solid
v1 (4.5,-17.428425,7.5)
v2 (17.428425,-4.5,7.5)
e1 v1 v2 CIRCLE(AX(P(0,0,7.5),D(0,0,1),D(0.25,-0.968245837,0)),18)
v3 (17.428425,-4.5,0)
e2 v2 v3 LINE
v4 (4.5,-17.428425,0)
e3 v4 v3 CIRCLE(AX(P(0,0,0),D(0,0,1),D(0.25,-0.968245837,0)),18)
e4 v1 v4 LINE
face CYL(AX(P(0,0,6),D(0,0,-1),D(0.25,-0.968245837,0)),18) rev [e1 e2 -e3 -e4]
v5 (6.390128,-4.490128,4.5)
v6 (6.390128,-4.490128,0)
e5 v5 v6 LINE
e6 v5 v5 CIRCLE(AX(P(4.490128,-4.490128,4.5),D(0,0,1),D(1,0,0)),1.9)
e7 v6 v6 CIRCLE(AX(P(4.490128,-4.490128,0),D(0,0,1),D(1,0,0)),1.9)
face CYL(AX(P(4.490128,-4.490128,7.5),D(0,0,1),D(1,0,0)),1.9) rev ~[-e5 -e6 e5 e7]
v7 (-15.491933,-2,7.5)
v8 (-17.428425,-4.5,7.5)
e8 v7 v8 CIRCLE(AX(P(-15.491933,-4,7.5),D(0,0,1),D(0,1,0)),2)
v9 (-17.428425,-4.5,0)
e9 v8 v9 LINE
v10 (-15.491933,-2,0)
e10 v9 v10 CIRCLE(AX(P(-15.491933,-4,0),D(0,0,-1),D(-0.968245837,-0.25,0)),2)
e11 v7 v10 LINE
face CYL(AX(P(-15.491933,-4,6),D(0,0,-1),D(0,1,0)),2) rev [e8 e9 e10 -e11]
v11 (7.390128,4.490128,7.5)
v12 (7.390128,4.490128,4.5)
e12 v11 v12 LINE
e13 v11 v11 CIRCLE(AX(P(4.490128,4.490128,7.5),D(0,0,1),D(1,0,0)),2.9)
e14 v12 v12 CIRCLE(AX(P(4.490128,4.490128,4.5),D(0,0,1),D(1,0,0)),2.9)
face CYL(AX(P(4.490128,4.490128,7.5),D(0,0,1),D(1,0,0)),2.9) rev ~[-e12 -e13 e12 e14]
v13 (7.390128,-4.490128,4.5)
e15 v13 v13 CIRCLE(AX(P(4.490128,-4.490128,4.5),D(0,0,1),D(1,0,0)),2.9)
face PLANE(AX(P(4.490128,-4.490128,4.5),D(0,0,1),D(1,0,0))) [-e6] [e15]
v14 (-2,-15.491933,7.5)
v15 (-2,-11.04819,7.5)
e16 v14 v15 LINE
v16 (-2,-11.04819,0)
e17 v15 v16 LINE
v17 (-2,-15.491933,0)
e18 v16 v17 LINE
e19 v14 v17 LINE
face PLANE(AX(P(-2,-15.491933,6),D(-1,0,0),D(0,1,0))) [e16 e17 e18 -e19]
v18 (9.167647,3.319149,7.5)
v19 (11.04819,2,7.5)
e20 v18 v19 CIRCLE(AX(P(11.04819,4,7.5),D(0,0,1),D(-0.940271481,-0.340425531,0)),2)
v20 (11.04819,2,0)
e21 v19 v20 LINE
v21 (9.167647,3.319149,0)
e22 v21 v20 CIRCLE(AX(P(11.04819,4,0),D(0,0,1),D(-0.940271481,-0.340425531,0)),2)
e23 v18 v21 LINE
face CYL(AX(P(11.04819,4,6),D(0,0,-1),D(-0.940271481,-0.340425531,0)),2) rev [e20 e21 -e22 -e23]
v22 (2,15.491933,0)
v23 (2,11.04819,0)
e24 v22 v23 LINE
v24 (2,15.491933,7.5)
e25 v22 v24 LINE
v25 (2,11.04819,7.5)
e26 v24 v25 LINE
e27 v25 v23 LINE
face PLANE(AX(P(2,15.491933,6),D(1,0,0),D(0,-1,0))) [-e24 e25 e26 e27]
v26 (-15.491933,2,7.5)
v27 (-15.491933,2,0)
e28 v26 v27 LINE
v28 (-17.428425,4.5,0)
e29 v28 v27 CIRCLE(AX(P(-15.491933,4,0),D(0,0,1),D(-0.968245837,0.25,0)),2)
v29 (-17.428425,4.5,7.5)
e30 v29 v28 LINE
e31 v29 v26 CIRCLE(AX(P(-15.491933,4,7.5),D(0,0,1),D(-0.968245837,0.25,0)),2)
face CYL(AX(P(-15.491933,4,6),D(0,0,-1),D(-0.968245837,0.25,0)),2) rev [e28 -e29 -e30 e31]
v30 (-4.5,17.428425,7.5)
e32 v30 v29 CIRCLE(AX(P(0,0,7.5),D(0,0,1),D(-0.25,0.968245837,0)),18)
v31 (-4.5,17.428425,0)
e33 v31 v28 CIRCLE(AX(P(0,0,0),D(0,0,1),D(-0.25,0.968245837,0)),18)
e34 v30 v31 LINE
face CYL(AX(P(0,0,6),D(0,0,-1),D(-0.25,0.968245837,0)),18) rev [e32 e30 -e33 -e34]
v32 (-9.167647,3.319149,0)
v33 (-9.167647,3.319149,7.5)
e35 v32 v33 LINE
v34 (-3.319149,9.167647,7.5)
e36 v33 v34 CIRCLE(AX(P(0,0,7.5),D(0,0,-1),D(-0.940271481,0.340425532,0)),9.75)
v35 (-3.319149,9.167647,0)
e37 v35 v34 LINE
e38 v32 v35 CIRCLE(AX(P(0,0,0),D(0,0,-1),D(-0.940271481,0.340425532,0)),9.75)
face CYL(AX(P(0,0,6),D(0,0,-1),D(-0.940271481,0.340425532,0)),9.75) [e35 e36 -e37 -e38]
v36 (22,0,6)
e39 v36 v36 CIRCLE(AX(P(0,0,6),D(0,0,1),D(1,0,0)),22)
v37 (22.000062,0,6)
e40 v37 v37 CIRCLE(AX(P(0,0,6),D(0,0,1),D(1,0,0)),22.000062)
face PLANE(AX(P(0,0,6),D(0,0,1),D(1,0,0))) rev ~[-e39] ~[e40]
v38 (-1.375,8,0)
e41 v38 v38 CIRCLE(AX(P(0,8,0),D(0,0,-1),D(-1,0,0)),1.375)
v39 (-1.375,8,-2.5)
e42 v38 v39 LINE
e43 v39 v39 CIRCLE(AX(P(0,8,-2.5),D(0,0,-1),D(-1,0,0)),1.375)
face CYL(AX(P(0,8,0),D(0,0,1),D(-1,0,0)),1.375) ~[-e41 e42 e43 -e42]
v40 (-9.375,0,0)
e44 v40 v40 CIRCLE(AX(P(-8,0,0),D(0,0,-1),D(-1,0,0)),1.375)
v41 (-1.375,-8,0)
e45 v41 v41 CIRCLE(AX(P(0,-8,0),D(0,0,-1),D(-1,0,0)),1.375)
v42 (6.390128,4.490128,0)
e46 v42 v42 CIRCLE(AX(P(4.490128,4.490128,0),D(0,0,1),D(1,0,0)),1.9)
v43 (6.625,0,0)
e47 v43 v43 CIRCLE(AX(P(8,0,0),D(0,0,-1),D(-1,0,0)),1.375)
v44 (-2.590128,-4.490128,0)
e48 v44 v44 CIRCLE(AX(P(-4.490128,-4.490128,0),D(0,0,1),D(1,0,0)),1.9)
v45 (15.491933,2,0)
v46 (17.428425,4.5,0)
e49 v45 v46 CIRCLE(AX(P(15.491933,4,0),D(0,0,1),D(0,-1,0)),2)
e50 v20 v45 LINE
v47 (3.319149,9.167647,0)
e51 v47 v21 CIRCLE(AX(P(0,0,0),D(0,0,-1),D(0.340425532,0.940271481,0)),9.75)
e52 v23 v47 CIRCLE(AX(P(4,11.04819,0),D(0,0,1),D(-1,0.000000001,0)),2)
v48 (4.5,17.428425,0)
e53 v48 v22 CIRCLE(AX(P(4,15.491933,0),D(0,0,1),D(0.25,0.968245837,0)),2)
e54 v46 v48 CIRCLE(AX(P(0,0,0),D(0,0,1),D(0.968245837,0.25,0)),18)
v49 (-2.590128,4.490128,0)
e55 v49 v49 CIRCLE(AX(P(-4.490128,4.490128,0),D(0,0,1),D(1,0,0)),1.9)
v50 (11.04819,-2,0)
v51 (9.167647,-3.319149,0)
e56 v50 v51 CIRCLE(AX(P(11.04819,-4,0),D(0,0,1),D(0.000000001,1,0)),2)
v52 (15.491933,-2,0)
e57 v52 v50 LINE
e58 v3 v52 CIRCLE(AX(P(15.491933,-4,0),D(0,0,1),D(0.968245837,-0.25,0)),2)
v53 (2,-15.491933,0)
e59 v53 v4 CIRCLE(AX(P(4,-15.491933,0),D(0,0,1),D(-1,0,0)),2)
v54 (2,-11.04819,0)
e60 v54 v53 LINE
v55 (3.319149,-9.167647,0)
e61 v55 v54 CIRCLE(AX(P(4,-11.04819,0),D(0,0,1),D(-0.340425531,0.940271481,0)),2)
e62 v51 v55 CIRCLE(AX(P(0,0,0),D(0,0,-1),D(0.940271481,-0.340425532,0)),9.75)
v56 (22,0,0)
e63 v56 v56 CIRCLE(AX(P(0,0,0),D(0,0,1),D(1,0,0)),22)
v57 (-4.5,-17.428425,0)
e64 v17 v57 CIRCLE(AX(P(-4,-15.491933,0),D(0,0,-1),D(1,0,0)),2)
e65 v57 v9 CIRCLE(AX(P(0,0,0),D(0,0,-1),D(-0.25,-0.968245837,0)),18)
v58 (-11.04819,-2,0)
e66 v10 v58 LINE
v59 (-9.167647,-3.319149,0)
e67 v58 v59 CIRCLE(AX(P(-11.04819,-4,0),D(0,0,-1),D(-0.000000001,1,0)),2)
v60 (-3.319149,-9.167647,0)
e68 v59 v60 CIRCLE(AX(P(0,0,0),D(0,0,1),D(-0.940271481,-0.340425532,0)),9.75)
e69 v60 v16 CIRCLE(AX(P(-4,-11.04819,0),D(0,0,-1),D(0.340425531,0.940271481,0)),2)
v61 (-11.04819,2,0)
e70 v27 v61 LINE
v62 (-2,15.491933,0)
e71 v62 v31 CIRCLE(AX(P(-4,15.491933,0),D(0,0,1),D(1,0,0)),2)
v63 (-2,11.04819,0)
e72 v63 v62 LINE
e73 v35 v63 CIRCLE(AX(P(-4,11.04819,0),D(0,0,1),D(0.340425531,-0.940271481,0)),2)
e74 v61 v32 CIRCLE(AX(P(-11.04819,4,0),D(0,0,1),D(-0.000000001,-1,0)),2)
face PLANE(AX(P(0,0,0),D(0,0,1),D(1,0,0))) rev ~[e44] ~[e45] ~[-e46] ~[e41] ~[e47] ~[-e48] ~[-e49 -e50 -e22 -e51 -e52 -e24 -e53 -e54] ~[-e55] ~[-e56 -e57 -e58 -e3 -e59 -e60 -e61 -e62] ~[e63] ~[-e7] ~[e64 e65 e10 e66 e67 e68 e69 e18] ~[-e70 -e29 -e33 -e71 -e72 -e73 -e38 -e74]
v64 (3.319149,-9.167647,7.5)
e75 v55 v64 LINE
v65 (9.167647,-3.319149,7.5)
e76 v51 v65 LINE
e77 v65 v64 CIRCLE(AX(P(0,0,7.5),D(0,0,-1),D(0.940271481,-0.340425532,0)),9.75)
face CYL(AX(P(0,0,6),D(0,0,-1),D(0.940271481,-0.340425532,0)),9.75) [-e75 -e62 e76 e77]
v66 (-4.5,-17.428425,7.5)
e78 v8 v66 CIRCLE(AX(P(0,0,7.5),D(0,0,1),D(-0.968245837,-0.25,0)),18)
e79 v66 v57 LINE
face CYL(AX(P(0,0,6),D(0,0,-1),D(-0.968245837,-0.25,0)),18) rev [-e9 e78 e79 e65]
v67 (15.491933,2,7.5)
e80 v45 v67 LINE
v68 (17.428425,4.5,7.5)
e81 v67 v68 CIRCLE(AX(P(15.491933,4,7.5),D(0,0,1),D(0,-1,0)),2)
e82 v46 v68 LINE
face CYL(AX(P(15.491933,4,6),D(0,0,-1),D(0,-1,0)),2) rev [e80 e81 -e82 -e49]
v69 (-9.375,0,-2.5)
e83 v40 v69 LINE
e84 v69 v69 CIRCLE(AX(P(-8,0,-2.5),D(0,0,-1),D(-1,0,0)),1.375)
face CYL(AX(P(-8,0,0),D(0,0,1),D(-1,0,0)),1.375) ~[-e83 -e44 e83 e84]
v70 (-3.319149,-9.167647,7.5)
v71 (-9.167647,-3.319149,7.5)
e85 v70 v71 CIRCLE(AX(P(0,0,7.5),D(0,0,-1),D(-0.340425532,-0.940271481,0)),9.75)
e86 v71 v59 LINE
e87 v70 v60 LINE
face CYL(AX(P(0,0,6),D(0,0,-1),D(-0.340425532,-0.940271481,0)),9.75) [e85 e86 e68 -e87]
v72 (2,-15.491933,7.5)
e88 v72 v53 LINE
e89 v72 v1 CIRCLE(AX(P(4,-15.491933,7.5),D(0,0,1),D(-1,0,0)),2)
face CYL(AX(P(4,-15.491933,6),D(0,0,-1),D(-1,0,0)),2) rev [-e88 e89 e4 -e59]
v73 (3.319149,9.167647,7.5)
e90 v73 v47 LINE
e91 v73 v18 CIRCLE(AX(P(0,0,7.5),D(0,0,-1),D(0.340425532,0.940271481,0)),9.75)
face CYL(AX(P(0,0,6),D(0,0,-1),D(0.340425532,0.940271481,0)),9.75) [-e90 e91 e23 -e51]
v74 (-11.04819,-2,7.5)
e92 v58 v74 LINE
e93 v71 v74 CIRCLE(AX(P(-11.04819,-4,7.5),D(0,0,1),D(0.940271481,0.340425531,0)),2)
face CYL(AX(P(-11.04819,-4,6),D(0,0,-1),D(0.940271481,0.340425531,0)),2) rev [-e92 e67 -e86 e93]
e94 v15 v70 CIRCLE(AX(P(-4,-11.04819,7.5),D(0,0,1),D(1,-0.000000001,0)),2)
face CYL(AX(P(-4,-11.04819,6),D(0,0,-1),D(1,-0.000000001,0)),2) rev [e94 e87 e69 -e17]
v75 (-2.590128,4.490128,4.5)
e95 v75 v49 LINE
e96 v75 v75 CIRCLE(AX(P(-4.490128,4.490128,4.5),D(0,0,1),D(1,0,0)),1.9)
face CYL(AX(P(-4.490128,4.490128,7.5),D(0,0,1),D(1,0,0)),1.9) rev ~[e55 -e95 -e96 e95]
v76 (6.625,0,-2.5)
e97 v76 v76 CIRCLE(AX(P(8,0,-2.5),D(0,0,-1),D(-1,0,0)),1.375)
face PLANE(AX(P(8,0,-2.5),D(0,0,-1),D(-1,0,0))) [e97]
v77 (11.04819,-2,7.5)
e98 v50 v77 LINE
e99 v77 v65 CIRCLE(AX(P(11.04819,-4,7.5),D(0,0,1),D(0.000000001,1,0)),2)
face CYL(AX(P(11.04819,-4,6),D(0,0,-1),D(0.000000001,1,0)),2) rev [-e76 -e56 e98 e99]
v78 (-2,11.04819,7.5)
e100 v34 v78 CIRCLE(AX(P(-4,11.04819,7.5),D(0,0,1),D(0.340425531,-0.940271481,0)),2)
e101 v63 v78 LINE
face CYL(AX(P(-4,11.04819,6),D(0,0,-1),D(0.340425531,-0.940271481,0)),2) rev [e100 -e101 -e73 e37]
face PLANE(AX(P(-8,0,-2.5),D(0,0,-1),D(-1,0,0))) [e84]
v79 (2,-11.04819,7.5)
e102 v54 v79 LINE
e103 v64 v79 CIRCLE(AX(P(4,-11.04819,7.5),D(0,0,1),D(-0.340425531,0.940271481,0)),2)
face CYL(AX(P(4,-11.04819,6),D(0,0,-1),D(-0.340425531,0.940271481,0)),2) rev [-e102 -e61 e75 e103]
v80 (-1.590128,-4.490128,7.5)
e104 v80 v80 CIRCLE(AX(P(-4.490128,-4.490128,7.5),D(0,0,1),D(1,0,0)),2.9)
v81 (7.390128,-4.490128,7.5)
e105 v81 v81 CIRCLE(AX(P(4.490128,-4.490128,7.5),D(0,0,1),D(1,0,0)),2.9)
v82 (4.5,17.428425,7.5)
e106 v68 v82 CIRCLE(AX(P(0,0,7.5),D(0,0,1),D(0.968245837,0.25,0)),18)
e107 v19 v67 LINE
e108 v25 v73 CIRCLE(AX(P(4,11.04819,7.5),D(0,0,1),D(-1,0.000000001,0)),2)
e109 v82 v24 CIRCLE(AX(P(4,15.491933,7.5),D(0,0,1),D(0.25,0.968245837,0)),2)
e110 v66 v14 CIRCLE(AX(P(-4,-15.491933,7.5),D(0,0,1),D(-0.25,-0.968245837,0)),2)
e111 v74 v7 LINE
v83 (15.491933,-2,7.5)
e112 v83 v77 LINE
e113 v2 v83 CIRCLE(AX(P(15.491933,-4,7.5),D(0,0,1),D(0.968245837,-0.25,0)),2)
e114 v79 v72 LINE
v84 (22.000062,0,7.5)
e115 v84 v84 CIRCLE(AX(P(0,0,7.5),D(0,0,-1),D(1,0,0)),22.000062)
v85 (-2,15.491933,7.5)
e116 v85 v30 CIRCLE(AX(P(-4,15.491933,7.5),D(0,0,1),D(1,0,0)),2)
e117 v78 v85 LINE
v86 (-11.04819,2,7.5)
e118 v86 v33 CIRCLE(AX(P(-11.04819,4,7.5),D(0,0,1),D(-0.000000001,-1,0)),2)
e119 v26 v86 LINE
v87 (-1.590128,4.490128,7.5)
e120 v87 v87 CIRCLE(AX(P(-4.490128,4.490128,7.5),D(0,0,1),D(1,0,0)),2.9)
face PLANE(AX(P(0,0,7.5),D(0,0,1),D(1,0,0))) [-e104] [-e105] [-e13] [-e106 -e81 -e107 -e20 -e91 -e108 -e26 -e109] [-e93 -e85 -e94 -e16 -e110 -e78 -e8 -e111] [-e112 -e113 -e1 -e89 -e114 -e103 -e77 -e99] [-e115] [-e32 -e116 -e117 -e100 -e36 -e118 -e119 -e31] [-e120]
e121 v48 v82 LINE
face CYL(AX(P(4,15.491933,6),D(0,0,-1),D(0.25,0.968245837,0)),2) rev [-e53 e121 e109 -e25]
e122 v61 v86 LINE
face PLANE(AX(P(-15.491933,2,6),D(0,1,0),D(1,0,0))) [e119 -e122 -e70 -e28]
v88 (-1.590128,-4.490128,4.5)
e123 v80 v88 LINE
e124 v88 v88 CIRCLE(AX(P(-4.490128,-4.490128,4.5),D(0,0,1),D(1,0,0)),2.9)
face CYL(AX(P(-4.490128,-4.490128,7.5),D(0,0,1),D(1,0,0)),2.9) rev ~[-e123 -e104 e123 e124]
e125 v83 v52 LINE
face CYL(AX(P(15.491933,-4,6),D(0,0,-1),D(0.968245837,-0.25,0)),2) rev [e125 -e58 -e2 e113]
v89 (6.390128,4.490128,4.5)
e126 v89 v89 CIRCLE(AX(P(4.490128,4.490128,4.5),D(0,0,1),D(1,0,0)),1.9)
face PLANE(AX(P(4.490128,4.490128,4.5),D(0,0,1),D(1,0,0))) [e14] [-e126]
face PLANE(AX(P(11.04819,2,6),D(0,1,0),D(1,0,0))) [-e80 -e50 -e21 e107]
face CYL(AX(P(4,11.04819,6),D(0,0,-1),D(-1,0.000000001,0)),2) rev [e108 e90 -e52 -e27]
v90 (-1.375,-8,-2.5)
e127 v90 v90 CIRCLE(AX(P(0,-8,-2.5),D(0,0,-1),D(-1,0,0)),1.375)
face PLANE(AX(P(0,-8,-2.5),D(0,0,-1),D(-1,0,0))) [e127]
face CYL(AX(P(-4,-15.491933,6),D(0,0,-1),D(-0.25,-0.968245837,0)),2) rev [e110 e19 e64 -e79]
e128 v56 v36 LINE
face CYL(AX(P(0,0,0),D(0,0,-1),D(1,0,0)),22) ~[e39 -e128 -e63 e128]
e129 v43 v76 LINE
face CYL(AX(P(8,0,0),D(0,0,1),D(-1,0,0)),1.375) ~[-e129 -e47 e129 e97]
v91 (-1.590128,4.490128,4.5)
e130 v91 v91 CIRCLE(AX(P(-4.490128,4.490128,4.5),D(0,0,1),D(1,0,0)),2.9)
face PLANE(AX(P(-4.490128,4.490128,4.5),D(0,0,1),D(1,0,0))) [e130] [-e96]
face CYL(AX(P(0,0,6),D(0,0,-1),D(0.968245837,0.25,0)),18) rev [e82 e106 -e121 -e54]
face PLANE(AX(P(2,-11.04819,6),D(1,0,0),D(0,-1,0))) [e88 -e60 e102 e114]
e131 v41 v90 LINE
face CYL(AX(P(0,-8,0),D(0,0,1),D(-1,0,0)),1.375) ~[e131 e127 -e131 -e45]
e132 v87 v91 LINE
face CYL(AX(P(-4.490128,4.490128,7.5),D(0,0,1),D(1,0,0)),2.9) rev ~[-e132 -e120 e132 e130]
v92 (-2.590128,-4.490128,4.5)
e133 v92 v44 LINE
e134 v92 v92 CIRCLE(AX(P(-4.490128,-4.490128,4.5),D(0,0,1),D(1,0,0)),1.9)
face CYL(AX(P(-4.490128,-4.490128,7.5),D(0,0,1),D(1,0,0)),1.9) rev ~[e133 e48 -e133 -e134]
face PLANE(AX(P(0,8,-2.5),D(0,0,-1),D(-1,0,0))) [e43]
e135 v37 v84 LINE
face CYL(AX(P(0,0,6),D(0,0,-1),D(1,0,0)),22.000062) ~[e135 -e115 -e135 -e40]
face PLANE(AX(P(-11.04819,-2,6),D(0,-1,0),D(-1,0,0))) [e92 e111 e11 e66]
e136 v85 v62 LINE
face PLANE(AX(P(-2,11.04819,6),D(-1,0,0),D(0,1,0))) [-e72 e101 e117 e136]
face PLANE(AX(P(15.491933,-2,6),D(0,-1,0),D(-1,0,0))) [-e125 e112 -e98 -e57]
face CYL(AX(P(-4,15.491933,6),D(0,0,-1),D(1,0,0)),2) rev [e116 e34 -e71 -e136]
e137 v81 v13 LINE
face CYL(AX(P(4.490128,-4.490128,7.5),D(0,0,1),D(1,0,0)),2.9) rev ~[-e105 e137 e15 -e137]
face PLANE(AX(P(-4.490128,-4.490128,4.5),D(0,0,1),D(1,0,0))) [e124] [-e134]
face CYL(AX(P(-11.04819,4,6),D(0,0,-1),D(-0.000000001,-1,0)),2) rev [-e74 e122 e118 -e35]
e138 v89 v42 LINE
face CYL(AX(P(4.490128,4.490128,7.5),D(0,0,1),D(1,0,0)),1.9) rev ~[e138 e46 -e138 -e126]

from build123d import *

# Parameters (mm, degrees)
SKETCH1_R           = 22
BOSS_EXTRUDE1_DEPTH = 6
BOSS_EXTRUDE2_DEPTH = 1.5
SKETCH3_R           = 1.375
BOSS_EXTRUDE3_DEPTH = 2.5
CUT_EXTRUDE3_REACH  = 12
SKETCH6_R           = 1.9
SKETCH7_R           = 2.9
CUT_EXTRUDE4_DEPTH  = 3
CUT_EXTRUDE5_START  = -1.5
SKETCH8_R           = 23.24877744
SKETCH8_R_2         = 22.000061981
CUT_EXTRUDE5_DEPTH  = 1.5


with BuildPart() as part:
    # Sketch1 → Boss-Extrude1 (new body)
    with BuildSketch(Plane.XY):
        Circle(SKETCH1_R)
        with BuildLine():
            Line((11.048189897, 2), (15.491933385, 2))
            ThreePointArc((15.491933385, 2), (17.073072215, 2.775255129), (17.428425058, 4.5))
            ThreePointArc((17.428425058, 4.5), (12.727922061, 12.727922061), (4.5, 17.428425058))
            ThreePointArc((4.5, 17.428425058), (2.775255129, 17.073072215), (2, 15.491933385))
            Line((2, 15.491933385), (2, 11.048189897))
            ThreePointArc((2, 11.048189897), (2.362669531, 9.899647805), (3.319148936, 9.167646936))
            ThreePointArc((3.319148936, 9.167646936), (6.894291117, 6.894291117), (9.167646936, 3.319148936))
            ThreePointArc((9.167646936, 3.319148936), (9.899647805, 2.362669531), (11.048189897, 2))
        make_face(mode=Mode.SUBTRACT)
        with BuildLine():
            Line((-15.491933385, 2), (-11.048189897, 2))
            ThreePointArc((-11.048189897, 2), (-9.899647805, 2.362669531), (-9.167646936, 3.319148936))
            ThreePointArc((-9.167646936, 3.319148936), (-6.894291117, 6.894291117), (-3.319148936, 9.167646936))
            ThreePointArc((-3.319148936, 9.167646936), (-2.362669531, 9.899647805), (-2, 11.048189897))
            Line((-2, 11.048189897), (-2, 15.491933385))
            ThreePointArc((-2, 15.491933385), (-2.775255129, 17.073072215), (-4.5, 17.428425058))
            ThreePointArc((-4.5, 17.428425058), (-12.727922061, 12.727922061), (-17.428425058, 4.5))
            ThreePointArc((-17.428425058, 4.5), (-17.073072215, 2.775255129), (-15.491933385, 2))
        make_face(mode=Mode.SUBTRACT)
        with BuildLine():
            Line((2, -11.048189897), (2, -15.491933385))
            ThreePointArc((2, -15.491933385), (2.775255129, -17.073072215), (4.5, -17.428425058))
            ThreePointArc((4.5, -17.428425058), (12.727922061, -12.727922061), (17.428425058, -4.5))
            ThreePointArc((17.428425058, -4.5), (17.073072215, -2.775255129), (15.491933385, -2))
            Line((15.491933385, -2), (11.048189897, -2))
            ThreePointArc((11.048189897, -2), (9.899647805, -2.362669531), (9.167646936, -3.319148936))
            ThreePointArc((9.167646936, -3.319148936), (6.894291117, -6.894291117), (3.319148936, -9.167646936))
            ThreePointArc((3.319148936, -9.167646936), (2.362669531, -9.899647805), (2, -11.048189897))
        make_face(mode=Mode.SUBTRACT)
        with BuildLine():
            Line((-15.491933385, -2), (-11.048189897, -2))
            ThreePointArc((-11.048189897, -2), (-9.899647805, -2.362669531), (-9.167646936, -3.319148936))
            ThreePointArc((-9.167646936, -3.319148936), (-6.894291117, -6.894291117), (-3.319148936, -9.167646936))
            ThreePointArc((-3.319148936, -9.167646936), (-2.362669531, -9.899647805), (-2, -11.048189897))
            Line((-2, -11.048189897), (-2, -15.491933385))
            ThreePointArc((-2, -15.491933385), (-2.775255129, -17.073072215), (-4.5, -17.428425058))
            ThreePointArc((-4.5, -17.428425058), (-12.727922061, -12.727922061), (-17.428425058, -4.5))
            ThreePointArc((-17.428425058, -4.5), (-17.073072215, -2.775255129), (-15.491933385, -2))
        make_face(mode=Mode.SUBTRACT)
    extrude(amount=BOSS_EXTRUDE1_DEPTH)

    # Sketch2 → Boss-Extrude2 (add)
    with BuildSketch(Plane.XY.offset(6)):
        with BuildLine():
            Line((-4.587705573, 22.79163465), (-6.529589207, 22.313003321))
            ThreePointArc((-6.529589207, 22.313003321), (-6.910364179, 21.255540917), (-7.801329494, 20.570415293))
            ThreePointArc((-7.801329494, 20.570415293), (-8.922548934, 20.492419898), (-9.908790373, 21.031441363))
            Line((-9.908790373, 21.031441363), (-11.679702424, 20.101995018))
            ThreePointArc((-11.679702424, 20.101995018), (-11.796345449, 18.984135135), (-12.497459637, 18.105696059))
            ThreePointArc((-12.497459637, 18.105696059), (-13.567432959, 17.761641694), (-14.654012294, 18.048977149))
            Line((-14.654012294, 18.048977149), (-16.15103379, 16.722731833))
            ThreePointArc((-16.15103379, 16.722731833), (-15.996766, 15.609440423), (-16.467282853, 14.588739582))
            ThreePointArc((-16.467282853, 14.588739582), (-17.423827096, 13.998621436), (-18.547596285, 14.017571989))
            Line((-18.547596285, 14.017571989), (-19.683725779, 12.371604258))
            ThreePointArc((-19.683725779, 12.371604258), (-19.267512657, 11.327581771), (-19.480087446, 10.223938589))
            ThreePointArc((-19.480087446, 10.223938589), (-20.267611735, 9.422052183), (-21.363261398, 9.171516497))
            Line((-21.363261398, 9.171516497), (-22.072471173, 7.301484012))
            ThreePointArc((-22.072471173, 7.301484012), (-21.418501513, 6.387405241), (-21.360780164, 5.264959447))
            ThreePointArc((-21.360780164, 5.264959447), (-21.93351645, 4.297907504), (-22.937371411, 3.792445804))
            Line((-22.937371411, 3.792445804), (-23.178444772, 1.807028055))
            ThreePointArc((-23.178444772, 1.807028055), (-22.324724914, 1.076015936), (-22.000061981, 0))
            ThreePointArc((-22.000061981, 0), (-22.324724914, -1.076015936), (-23.178444772, -1.807028055))
            Line((-23.178444772, -1.807028055), (-22.937371411, -3.792445804))
            ThreePointArc((-22.937371411, -3.792445804), (-21.93351645, -4.297907504), (-21.360780164, -5.264959447))
            ThreePointArc((-21.360780164, -5.264959447), (-21.418501513, -6.387405241), (-22.072471173, -7.301484012))
            Line((-22.072471173, -7.301484012), (-21.363261398, -9.171516497))
            ThreePointArc((-21.363261398, -9.171516497), (-20.267611735, -9.422052183), (-19.480087446, -10.223938589))
            ThreePointArc((-19.480087446, -10.223938589), (-19.267512657, -11.327581771), (-19.683725779, -12.371604258))
            Line((-19.683725779, -12.371604258), (-18.547596285, -14.017571989))
            ThreePointArc((-18.547596285, -14.017571989), (-17.423827096, -13.998621436), (-16.467282853, -14.588739582))
            ThreePointArc((-16.467282853, -14.588739582), (-15.996766, -15.609440423), (-16.15103379, -16.722731833))
            Line((-16.15103379, -16.722731833), (-14.654012294, -18.048977149))
            ThreePointArc((-14.654012294, -18.048977149), (-13.567432959, -17.761641694), (-12.497459637, -18.105696059))
            ThreePointArc((-12.497459637, -18.105696059), (-11.796345449, -18.984135135), (-11.679702424, -20.101995018))
            Line((-11.679702424, -20.101995018), (-9.908790373, -21.031441363))
            ThreePointArc((-9.908790373, -21.031441363), (-8.922548934, -20.492419898), (-7.801329494, -20.570415293))
            ThreePointArc((-7.801329494, -20.570415293), (-6.910364179, -21.255540917), (-6.529589207, -22.313003321))
            Line((-6.529589207, -22.313003321), (-4.587705573, -22.79163465))
            ThreePointArc((-4.587705573, -22.79163465), (-3.759118797, -22.032253145), (-2.651814437, -21.839656759))
            ThreePointArc((-2.651814437, -21.839656759), (-1.62277766, -22.291651923), (-1, -23.227260976))
            Line((-1, -23.227260976), (1, -23.227260976))
            ThreePointArc((1, -23.227260976), (1.62277766, -22.291651923), (2.651814437, -21.839656759))
            ThreePointArc((2.651814437, -21.839656759), (3.759118797, -22.032253145), (4.587705573, -22.79163465))
            Line((4.587705573, -22.79163465), (6.529589207, -22.313003321))
            ThreePointArc((6.529589207, -22.313003321), (6.910364179, -21.255540917), (7.801329494, -20.570415293))
            ThreePointArc((7.801329494, -20.570415293), (8.922548934, -20.492419898), (9.908790373, -21.031441363))
            Line((9.908790373, -21.031441363), (11.679702424, -20.101995018))
            ThreePointArc((11.679702424, -20.101995018), (11.796345449, -18.984135135), (12.497459637, -18.105696059))
            ThreePointArc((12.497459637, -18.105696059), (13.567432959, -17.761641694), (14.654012294, -18.048977149))
            Line((14.654012294, -18.048977149), (16.15103379, -16.722731833))
            ThreePointArc((16.15103379, -16.722731833), (15.996766, -15.609440423), (16.467282853, -14.588739582))
            ThreePointArc((16.467282853, -14.588739582), (17.423827096, -13.998621436), (18.547596285, -14.017571989))
            Line((18.547596285, -14.017571989), (19.683725779, -12.371604258))
            ThreePointArc((19.683725779, -12.371604258), (19.267512657, -11.327581771), (19.480087446, -10.223938589))
            ThreePointArc((19.480087446, -10.223938589), (20.267611735, -9.422052183), (21.363261398, -9.171516497))
            Line((21.363261398, -9.171516497), (22.072471173, -7.301484012))
            ThreePointArc((22.072471173, -7.301484012), (21.418501513, -6.387405241), (21.360780164, -5.264959447))
            ThreePointArc((21.360780164, -5.264959447), (21.93351645, -4.297907504), (22.937371411, -3.792445804))
            Line((22.937371411, -3.792445804), (23.178444772, -1.807028055))
            ThreePointArc((23.178444772, -1.807028055), (22.324724914, -1.076015936), (22.000061981, 0))
            ThreePointArc((22.000061981, 0), (22.324724914, 1.076015936), (23.178444772, 1.807028055))
            Line((23.178444772, 1.807028055), (22.937371411, 3.792445804))
            ThreePointArc((22.937371411, 3.792445804), (21.93351645, 4.297907504), (21.360780164, 5.264959447))
            ThreePointArc((21.360780164, 5.264959447), (21.418501513, 6.387405241), (22.072471173, 7.301484012))
            Line((22.072471173, 7.301484012), (21.363261398, 9.171516497))
            ThreePointArc((21.363261398, 9.171516497), (20.267611735, 9.422052183), (19.480087446, 10.223938589))
            ThreePointArc((19.480087446, 10.223938589), (19.267512657, 11.327581771), (19.683725779, 12.371604258))
            Line((19.683725779, 12.371604258), (18.547596285, 14.017571989))
            ThreePointArc((18.547596285, 14.017571989), (17.423827096, 13.998621436), (16.467282853, 14.588739582))
            ThreePointArc((16.467282853, 14.588739582), (15.996766, 15.609440423), (16.15103379, 16.722731833))
            Line((16.15103379, 16.722731833), (14.654012294, 18.048977149))
            ThreePointArc((14.654012294, 18.048977149), (13.567432959, 17.761641694), (12.497459637, 18.105696059))
            ThreePointArc((12.497459637, 18.105696059), (11.796345449, 18.984135135), (11.679702424, 20.101995018))
            Line((11.679702424, 20.101995018), (9.908790373, 21.031441363))
            ThreePointArc((9.908790373, 21.031441363), (8.922548934, 20.492419898), (7.801329494, 20.570415293))
            ThreePointArc((7.801329494, 20.570415293), (6.910364179, 21.255540917), (6.529589207, 22.313003321))
            Line((6.529589207, 22.313003321), (4.587705573, 22.79163465))
            ThreePointArc((4.587705573, 22.79163465), (3.759118797, 22.032253145), (2.651814437, 21.839656759))
            ThreePointArc((2.651814437, 21.839656759), (1.62277766, 22.291651923), (1, 23.227260976))
            Line((1, 23.227260976), (-1, 23.227260976))
            ThreePointArc((-1, 23.227260976), (-1.62277766, 22.291651923), (-2.651814437, 21.839656759))
            ThreePointArc((-2.651814437, 21.839656759), (-3.759118797, 22.032253145), (-4.587705573, 22.79163465))
        make_face()
        with BuildLine():
            Line((-2, 11.048189897), (-2, 15.491933385))
            ThreePointArc((-2, 15.491933385), (-2.775255129, 17.073072215), (-4.5, 17.428425058))
            ThreePointArc((-4.5, 17.428425058), (-12.727922061, 12.727922061), (-17.428425058, 4.5))
            ThreePointArc((-17.428425058, 4.5), (-17.073072215, 2.775255129), (-15.491933385, 2))
            Line((-15.491933385, 2), (-11.048189897, 2))
            ThreePointArc((-11.048189897, 2), (-9.899647805, 2.362669531), (-9.167646936, 3.319148936))
            ThreePointArc((-9.167646936, 3.319148936), (-6.894291117, 6.894291117), (-3.319148936, 9.167646936))
            ThreePointArc((-3.319148936, 9.167646936), (-2.362669531, 9.899647805), (-2, 11.048189897))
        make_face(mode=Mode.SUBTRACT)
        with BuildLine():
            Line((2, 15.491933385), (2, 11.048189897))
            ThreePointArc((2, 11.048189897), (2.362669531, 9.899647805), (3.319148936, 9.167646936))
            ThreePointArc((3.319148936, 9.167646936), (6.894291117, 6.894291117), (9.167646936, 3.319148936))
            ThreePointArc((9.167646936, 3.319148936), (9.899647805, 2.362669531), (11.048189897, 2))
            Line((11.048189897, 2), (15.491933385, 2))
            ThreePointArc((15.491933385, 2), (17.073072215, 2.775255129), (17.428425058, 4.5))
            ThreePointArc((17.428425058, 4.5), (12.727922061, 12.727922061), (4.5, 17.428425058))
            ThreePointArc((4.5, 17.428425058), (2.775255129, 17.073072215), (2, 15.491933385))
        make_face(mode=Mode.SUBTRACT)
        with BuildLine():
            Line((2, -11.048189897), (2, -15.491933385))
            ThreePointArc((2, -15.491933385), (2.775255129, -17.073072215), (4.5, -17.428425058))
            ThreePointArc((4.5, -17.428425058), (12.727922061, -12.727922061), (17.428425058, -4.5))
            ThreePointArc((17.428425058, -4.5), (17.073072215, -2.775255129), (15.491933385, -2))
            Line((15.491933385, -2), (11.048189897, -2))
            ThreePointArc((11.048189897, -2), (9.899647805, -2.362669531), (9.167646936, -3.319148936))
            ThreePointArc((9.167646936, -3.319148936), (6.894291117, -6.894291117), (3.319148936, -9.167646936))
            ThreePointArc((3.319148936, -9.167646936), (2.362669531, -9.899647805), (2, -11.048189897))
        make_face(mode=Mode.SUBTRACT)
        with BuildLine():
            Line((-11.048189897, -2), (-15.491933385, -2))
            ThreePointArc((-15.491933385, -2), (-17.073072215, -2.775255129), (-17.428425058, -4.5))
            ThreePointArc((-17.428425058, -4.5), (-12.727922061, -12.727922061), (-4.5, -17.428425058))
            ThreePointArc((-4.5, -17.428425058), (-2.775255129, -17.073072215), (-2, -15.491933385))
            Line((-2, -15.491933385), (-2, -11.048189897))
            ThreePointArc((-2, -11.048189897), (-2.362669531, -9.899647805), (-3.319148936, -9.167646936))
            ThreePointArc((-3.319148936, -9.167646936), (-6.894291117, -6.894291117), (-9.167646936, -3.319148936))
            ThreePointArc((-9.167646936, -3.319148936), (-9.899647805, -2.362669531), (-11.048189897, -2))
        make_face(mode=Mode.SUBTRACT)
    extrude(amount=BOSS_EXTRUDE2_DEPTH)

    # Sketch3 → Boss-Extrude3 (add)
    with BuildSketch(Plane(origin=(0, 0, 0), x_dir=(-1, 0, 0), z_dir=(0, 0, -1))):
        with Locations((8, 0)):
            Circle(SKETCH3_R)
        with Locations((0, 8)):
            Circle(SKETCH3_R)
        with Locations((-8, 0)):
            Circle(SKETCH3_R)
        with Locations((0, -8)):
            Circle(SKETCH3_R)
    extrude(amount=BOSS_EXTRUDE3_DEPTH)

    # Sketch6 → Cut-Extrude3 (cut, up to next)
    with BuildSketch(Plane.XY.offset(7.5), mode=Mode.PRIVATE) as cut_extrude3_sk1:
        with Locations((4.490128061, 4.490128061)):
            Circle(SKETCH6_R)
    cut_extrude3_tool1 = extrude(cut_extrude3_sk1.sketch, amount=-CUT_EXTRUDE3_REACH, mode=Mode.PRIVATE) & part.part
    add(cut_extrude3_tool1.solids().sort_by_distance((4.490128, 4.490128, 7.5))[0], mode=Mode.SUBTRACT)
    # Sketch6 → Cut-Extrude3 (cut, up to next)
    with BuildSketch(Plane.XY.offset(7.5), mode=Mode.PRIVATE) as cut_extrude3_sk2:
        with Locations((-4.490128061, 4.490128061)):
            Circle(SKETCH6_R)
    cut_extrude3_tool2 = extrude(cut_extrude3_sk2.sketch, amount=-CUT_EXTRUDE3_REACH, mode=Mode.PRIVATE) & part.part
    add(cut_extrude3_tool2.solids().sort_by_distance((-4.490128, 4.490128, 7.5))[0], mode=Mode.SUBTRACT)
    # Sketch6 → Cut-Extrude3 (cut, up to next)
    with BuildSketch(Plane.XY.offset(7.5), mode=Mode.PRIVATE) as cut_extrude3_sk3:
        with Locations((4.490128061, -4.490128061)):
            Circle(SKETCH6_R)
    cut_extrude3_tool3 = extrude(cut_extrude3_sk3.sketch, amount=-CUT_EXTRUDE3_REACH, mode=Mode.PRIVATE) & part.part
    add(cut_extrude3_tool3.solids().sort_by_distance((4.490128, -4.490128, 7.5))[0], mode=Mode.SUBTRACT)
    # Sketch6 → Cut-Extrude3 (cut, up to next)
    with BuildSketch(Plane.XY.offset(7.5), mode=Mode.PRIVATE) as cut_extrude3_sk4:
        with Locations((-4.490128061, -4.490128061)):
            Circle(SKETCH6_R)
    cut_extrude3_tool4 = extrude(cut_extrude3_sk4.sketch, amount=-CUT_EXTRUDE3_REACH, mode=Mode.PRIVATE) & part.part
    add(cut_extrude3_tool4.solids().sort_by_distance((-4.490128, -4.490128, 7.5))[0], mode=Mode.SUBTRACT)

    # Sketch7 → Cut-Extrude4 (cut)
    with BuildSketch(Plane.XY.offset(7.5)):
        with Locations((-4.490128061, 4.490128061)):
            Circle(SKETCH7_R)
        with Locations((4.490128061, 4.490128061)):
            Circle(SKETCH7_R)
        with Locations((4.490128061, -4.490128061)):
            Circle(SKETCH7_R)
        with Locations((-4.490128061, -4.490128061)):
            Circle(SKETCH7_R)
    extrude(amount=-CUT_EXTRUDE4_DEPTH, mode=Mode.SUBTRACT)

    # Sketch8 → Cut-Extrude5 (cut)
    with BuildSketch(Plane.XY.offset(7.5).offset(CUT_EXTRUDE5_START)):
        Circle(SKETCH8_R)
        Circle(SKETCH8_R_2, mode=Mode.SUBTRACT)
    extrude(amount=CUT_EXTRUDE5_DEPTH, mode=Mode.SUBTRACT)


solid = part.part
